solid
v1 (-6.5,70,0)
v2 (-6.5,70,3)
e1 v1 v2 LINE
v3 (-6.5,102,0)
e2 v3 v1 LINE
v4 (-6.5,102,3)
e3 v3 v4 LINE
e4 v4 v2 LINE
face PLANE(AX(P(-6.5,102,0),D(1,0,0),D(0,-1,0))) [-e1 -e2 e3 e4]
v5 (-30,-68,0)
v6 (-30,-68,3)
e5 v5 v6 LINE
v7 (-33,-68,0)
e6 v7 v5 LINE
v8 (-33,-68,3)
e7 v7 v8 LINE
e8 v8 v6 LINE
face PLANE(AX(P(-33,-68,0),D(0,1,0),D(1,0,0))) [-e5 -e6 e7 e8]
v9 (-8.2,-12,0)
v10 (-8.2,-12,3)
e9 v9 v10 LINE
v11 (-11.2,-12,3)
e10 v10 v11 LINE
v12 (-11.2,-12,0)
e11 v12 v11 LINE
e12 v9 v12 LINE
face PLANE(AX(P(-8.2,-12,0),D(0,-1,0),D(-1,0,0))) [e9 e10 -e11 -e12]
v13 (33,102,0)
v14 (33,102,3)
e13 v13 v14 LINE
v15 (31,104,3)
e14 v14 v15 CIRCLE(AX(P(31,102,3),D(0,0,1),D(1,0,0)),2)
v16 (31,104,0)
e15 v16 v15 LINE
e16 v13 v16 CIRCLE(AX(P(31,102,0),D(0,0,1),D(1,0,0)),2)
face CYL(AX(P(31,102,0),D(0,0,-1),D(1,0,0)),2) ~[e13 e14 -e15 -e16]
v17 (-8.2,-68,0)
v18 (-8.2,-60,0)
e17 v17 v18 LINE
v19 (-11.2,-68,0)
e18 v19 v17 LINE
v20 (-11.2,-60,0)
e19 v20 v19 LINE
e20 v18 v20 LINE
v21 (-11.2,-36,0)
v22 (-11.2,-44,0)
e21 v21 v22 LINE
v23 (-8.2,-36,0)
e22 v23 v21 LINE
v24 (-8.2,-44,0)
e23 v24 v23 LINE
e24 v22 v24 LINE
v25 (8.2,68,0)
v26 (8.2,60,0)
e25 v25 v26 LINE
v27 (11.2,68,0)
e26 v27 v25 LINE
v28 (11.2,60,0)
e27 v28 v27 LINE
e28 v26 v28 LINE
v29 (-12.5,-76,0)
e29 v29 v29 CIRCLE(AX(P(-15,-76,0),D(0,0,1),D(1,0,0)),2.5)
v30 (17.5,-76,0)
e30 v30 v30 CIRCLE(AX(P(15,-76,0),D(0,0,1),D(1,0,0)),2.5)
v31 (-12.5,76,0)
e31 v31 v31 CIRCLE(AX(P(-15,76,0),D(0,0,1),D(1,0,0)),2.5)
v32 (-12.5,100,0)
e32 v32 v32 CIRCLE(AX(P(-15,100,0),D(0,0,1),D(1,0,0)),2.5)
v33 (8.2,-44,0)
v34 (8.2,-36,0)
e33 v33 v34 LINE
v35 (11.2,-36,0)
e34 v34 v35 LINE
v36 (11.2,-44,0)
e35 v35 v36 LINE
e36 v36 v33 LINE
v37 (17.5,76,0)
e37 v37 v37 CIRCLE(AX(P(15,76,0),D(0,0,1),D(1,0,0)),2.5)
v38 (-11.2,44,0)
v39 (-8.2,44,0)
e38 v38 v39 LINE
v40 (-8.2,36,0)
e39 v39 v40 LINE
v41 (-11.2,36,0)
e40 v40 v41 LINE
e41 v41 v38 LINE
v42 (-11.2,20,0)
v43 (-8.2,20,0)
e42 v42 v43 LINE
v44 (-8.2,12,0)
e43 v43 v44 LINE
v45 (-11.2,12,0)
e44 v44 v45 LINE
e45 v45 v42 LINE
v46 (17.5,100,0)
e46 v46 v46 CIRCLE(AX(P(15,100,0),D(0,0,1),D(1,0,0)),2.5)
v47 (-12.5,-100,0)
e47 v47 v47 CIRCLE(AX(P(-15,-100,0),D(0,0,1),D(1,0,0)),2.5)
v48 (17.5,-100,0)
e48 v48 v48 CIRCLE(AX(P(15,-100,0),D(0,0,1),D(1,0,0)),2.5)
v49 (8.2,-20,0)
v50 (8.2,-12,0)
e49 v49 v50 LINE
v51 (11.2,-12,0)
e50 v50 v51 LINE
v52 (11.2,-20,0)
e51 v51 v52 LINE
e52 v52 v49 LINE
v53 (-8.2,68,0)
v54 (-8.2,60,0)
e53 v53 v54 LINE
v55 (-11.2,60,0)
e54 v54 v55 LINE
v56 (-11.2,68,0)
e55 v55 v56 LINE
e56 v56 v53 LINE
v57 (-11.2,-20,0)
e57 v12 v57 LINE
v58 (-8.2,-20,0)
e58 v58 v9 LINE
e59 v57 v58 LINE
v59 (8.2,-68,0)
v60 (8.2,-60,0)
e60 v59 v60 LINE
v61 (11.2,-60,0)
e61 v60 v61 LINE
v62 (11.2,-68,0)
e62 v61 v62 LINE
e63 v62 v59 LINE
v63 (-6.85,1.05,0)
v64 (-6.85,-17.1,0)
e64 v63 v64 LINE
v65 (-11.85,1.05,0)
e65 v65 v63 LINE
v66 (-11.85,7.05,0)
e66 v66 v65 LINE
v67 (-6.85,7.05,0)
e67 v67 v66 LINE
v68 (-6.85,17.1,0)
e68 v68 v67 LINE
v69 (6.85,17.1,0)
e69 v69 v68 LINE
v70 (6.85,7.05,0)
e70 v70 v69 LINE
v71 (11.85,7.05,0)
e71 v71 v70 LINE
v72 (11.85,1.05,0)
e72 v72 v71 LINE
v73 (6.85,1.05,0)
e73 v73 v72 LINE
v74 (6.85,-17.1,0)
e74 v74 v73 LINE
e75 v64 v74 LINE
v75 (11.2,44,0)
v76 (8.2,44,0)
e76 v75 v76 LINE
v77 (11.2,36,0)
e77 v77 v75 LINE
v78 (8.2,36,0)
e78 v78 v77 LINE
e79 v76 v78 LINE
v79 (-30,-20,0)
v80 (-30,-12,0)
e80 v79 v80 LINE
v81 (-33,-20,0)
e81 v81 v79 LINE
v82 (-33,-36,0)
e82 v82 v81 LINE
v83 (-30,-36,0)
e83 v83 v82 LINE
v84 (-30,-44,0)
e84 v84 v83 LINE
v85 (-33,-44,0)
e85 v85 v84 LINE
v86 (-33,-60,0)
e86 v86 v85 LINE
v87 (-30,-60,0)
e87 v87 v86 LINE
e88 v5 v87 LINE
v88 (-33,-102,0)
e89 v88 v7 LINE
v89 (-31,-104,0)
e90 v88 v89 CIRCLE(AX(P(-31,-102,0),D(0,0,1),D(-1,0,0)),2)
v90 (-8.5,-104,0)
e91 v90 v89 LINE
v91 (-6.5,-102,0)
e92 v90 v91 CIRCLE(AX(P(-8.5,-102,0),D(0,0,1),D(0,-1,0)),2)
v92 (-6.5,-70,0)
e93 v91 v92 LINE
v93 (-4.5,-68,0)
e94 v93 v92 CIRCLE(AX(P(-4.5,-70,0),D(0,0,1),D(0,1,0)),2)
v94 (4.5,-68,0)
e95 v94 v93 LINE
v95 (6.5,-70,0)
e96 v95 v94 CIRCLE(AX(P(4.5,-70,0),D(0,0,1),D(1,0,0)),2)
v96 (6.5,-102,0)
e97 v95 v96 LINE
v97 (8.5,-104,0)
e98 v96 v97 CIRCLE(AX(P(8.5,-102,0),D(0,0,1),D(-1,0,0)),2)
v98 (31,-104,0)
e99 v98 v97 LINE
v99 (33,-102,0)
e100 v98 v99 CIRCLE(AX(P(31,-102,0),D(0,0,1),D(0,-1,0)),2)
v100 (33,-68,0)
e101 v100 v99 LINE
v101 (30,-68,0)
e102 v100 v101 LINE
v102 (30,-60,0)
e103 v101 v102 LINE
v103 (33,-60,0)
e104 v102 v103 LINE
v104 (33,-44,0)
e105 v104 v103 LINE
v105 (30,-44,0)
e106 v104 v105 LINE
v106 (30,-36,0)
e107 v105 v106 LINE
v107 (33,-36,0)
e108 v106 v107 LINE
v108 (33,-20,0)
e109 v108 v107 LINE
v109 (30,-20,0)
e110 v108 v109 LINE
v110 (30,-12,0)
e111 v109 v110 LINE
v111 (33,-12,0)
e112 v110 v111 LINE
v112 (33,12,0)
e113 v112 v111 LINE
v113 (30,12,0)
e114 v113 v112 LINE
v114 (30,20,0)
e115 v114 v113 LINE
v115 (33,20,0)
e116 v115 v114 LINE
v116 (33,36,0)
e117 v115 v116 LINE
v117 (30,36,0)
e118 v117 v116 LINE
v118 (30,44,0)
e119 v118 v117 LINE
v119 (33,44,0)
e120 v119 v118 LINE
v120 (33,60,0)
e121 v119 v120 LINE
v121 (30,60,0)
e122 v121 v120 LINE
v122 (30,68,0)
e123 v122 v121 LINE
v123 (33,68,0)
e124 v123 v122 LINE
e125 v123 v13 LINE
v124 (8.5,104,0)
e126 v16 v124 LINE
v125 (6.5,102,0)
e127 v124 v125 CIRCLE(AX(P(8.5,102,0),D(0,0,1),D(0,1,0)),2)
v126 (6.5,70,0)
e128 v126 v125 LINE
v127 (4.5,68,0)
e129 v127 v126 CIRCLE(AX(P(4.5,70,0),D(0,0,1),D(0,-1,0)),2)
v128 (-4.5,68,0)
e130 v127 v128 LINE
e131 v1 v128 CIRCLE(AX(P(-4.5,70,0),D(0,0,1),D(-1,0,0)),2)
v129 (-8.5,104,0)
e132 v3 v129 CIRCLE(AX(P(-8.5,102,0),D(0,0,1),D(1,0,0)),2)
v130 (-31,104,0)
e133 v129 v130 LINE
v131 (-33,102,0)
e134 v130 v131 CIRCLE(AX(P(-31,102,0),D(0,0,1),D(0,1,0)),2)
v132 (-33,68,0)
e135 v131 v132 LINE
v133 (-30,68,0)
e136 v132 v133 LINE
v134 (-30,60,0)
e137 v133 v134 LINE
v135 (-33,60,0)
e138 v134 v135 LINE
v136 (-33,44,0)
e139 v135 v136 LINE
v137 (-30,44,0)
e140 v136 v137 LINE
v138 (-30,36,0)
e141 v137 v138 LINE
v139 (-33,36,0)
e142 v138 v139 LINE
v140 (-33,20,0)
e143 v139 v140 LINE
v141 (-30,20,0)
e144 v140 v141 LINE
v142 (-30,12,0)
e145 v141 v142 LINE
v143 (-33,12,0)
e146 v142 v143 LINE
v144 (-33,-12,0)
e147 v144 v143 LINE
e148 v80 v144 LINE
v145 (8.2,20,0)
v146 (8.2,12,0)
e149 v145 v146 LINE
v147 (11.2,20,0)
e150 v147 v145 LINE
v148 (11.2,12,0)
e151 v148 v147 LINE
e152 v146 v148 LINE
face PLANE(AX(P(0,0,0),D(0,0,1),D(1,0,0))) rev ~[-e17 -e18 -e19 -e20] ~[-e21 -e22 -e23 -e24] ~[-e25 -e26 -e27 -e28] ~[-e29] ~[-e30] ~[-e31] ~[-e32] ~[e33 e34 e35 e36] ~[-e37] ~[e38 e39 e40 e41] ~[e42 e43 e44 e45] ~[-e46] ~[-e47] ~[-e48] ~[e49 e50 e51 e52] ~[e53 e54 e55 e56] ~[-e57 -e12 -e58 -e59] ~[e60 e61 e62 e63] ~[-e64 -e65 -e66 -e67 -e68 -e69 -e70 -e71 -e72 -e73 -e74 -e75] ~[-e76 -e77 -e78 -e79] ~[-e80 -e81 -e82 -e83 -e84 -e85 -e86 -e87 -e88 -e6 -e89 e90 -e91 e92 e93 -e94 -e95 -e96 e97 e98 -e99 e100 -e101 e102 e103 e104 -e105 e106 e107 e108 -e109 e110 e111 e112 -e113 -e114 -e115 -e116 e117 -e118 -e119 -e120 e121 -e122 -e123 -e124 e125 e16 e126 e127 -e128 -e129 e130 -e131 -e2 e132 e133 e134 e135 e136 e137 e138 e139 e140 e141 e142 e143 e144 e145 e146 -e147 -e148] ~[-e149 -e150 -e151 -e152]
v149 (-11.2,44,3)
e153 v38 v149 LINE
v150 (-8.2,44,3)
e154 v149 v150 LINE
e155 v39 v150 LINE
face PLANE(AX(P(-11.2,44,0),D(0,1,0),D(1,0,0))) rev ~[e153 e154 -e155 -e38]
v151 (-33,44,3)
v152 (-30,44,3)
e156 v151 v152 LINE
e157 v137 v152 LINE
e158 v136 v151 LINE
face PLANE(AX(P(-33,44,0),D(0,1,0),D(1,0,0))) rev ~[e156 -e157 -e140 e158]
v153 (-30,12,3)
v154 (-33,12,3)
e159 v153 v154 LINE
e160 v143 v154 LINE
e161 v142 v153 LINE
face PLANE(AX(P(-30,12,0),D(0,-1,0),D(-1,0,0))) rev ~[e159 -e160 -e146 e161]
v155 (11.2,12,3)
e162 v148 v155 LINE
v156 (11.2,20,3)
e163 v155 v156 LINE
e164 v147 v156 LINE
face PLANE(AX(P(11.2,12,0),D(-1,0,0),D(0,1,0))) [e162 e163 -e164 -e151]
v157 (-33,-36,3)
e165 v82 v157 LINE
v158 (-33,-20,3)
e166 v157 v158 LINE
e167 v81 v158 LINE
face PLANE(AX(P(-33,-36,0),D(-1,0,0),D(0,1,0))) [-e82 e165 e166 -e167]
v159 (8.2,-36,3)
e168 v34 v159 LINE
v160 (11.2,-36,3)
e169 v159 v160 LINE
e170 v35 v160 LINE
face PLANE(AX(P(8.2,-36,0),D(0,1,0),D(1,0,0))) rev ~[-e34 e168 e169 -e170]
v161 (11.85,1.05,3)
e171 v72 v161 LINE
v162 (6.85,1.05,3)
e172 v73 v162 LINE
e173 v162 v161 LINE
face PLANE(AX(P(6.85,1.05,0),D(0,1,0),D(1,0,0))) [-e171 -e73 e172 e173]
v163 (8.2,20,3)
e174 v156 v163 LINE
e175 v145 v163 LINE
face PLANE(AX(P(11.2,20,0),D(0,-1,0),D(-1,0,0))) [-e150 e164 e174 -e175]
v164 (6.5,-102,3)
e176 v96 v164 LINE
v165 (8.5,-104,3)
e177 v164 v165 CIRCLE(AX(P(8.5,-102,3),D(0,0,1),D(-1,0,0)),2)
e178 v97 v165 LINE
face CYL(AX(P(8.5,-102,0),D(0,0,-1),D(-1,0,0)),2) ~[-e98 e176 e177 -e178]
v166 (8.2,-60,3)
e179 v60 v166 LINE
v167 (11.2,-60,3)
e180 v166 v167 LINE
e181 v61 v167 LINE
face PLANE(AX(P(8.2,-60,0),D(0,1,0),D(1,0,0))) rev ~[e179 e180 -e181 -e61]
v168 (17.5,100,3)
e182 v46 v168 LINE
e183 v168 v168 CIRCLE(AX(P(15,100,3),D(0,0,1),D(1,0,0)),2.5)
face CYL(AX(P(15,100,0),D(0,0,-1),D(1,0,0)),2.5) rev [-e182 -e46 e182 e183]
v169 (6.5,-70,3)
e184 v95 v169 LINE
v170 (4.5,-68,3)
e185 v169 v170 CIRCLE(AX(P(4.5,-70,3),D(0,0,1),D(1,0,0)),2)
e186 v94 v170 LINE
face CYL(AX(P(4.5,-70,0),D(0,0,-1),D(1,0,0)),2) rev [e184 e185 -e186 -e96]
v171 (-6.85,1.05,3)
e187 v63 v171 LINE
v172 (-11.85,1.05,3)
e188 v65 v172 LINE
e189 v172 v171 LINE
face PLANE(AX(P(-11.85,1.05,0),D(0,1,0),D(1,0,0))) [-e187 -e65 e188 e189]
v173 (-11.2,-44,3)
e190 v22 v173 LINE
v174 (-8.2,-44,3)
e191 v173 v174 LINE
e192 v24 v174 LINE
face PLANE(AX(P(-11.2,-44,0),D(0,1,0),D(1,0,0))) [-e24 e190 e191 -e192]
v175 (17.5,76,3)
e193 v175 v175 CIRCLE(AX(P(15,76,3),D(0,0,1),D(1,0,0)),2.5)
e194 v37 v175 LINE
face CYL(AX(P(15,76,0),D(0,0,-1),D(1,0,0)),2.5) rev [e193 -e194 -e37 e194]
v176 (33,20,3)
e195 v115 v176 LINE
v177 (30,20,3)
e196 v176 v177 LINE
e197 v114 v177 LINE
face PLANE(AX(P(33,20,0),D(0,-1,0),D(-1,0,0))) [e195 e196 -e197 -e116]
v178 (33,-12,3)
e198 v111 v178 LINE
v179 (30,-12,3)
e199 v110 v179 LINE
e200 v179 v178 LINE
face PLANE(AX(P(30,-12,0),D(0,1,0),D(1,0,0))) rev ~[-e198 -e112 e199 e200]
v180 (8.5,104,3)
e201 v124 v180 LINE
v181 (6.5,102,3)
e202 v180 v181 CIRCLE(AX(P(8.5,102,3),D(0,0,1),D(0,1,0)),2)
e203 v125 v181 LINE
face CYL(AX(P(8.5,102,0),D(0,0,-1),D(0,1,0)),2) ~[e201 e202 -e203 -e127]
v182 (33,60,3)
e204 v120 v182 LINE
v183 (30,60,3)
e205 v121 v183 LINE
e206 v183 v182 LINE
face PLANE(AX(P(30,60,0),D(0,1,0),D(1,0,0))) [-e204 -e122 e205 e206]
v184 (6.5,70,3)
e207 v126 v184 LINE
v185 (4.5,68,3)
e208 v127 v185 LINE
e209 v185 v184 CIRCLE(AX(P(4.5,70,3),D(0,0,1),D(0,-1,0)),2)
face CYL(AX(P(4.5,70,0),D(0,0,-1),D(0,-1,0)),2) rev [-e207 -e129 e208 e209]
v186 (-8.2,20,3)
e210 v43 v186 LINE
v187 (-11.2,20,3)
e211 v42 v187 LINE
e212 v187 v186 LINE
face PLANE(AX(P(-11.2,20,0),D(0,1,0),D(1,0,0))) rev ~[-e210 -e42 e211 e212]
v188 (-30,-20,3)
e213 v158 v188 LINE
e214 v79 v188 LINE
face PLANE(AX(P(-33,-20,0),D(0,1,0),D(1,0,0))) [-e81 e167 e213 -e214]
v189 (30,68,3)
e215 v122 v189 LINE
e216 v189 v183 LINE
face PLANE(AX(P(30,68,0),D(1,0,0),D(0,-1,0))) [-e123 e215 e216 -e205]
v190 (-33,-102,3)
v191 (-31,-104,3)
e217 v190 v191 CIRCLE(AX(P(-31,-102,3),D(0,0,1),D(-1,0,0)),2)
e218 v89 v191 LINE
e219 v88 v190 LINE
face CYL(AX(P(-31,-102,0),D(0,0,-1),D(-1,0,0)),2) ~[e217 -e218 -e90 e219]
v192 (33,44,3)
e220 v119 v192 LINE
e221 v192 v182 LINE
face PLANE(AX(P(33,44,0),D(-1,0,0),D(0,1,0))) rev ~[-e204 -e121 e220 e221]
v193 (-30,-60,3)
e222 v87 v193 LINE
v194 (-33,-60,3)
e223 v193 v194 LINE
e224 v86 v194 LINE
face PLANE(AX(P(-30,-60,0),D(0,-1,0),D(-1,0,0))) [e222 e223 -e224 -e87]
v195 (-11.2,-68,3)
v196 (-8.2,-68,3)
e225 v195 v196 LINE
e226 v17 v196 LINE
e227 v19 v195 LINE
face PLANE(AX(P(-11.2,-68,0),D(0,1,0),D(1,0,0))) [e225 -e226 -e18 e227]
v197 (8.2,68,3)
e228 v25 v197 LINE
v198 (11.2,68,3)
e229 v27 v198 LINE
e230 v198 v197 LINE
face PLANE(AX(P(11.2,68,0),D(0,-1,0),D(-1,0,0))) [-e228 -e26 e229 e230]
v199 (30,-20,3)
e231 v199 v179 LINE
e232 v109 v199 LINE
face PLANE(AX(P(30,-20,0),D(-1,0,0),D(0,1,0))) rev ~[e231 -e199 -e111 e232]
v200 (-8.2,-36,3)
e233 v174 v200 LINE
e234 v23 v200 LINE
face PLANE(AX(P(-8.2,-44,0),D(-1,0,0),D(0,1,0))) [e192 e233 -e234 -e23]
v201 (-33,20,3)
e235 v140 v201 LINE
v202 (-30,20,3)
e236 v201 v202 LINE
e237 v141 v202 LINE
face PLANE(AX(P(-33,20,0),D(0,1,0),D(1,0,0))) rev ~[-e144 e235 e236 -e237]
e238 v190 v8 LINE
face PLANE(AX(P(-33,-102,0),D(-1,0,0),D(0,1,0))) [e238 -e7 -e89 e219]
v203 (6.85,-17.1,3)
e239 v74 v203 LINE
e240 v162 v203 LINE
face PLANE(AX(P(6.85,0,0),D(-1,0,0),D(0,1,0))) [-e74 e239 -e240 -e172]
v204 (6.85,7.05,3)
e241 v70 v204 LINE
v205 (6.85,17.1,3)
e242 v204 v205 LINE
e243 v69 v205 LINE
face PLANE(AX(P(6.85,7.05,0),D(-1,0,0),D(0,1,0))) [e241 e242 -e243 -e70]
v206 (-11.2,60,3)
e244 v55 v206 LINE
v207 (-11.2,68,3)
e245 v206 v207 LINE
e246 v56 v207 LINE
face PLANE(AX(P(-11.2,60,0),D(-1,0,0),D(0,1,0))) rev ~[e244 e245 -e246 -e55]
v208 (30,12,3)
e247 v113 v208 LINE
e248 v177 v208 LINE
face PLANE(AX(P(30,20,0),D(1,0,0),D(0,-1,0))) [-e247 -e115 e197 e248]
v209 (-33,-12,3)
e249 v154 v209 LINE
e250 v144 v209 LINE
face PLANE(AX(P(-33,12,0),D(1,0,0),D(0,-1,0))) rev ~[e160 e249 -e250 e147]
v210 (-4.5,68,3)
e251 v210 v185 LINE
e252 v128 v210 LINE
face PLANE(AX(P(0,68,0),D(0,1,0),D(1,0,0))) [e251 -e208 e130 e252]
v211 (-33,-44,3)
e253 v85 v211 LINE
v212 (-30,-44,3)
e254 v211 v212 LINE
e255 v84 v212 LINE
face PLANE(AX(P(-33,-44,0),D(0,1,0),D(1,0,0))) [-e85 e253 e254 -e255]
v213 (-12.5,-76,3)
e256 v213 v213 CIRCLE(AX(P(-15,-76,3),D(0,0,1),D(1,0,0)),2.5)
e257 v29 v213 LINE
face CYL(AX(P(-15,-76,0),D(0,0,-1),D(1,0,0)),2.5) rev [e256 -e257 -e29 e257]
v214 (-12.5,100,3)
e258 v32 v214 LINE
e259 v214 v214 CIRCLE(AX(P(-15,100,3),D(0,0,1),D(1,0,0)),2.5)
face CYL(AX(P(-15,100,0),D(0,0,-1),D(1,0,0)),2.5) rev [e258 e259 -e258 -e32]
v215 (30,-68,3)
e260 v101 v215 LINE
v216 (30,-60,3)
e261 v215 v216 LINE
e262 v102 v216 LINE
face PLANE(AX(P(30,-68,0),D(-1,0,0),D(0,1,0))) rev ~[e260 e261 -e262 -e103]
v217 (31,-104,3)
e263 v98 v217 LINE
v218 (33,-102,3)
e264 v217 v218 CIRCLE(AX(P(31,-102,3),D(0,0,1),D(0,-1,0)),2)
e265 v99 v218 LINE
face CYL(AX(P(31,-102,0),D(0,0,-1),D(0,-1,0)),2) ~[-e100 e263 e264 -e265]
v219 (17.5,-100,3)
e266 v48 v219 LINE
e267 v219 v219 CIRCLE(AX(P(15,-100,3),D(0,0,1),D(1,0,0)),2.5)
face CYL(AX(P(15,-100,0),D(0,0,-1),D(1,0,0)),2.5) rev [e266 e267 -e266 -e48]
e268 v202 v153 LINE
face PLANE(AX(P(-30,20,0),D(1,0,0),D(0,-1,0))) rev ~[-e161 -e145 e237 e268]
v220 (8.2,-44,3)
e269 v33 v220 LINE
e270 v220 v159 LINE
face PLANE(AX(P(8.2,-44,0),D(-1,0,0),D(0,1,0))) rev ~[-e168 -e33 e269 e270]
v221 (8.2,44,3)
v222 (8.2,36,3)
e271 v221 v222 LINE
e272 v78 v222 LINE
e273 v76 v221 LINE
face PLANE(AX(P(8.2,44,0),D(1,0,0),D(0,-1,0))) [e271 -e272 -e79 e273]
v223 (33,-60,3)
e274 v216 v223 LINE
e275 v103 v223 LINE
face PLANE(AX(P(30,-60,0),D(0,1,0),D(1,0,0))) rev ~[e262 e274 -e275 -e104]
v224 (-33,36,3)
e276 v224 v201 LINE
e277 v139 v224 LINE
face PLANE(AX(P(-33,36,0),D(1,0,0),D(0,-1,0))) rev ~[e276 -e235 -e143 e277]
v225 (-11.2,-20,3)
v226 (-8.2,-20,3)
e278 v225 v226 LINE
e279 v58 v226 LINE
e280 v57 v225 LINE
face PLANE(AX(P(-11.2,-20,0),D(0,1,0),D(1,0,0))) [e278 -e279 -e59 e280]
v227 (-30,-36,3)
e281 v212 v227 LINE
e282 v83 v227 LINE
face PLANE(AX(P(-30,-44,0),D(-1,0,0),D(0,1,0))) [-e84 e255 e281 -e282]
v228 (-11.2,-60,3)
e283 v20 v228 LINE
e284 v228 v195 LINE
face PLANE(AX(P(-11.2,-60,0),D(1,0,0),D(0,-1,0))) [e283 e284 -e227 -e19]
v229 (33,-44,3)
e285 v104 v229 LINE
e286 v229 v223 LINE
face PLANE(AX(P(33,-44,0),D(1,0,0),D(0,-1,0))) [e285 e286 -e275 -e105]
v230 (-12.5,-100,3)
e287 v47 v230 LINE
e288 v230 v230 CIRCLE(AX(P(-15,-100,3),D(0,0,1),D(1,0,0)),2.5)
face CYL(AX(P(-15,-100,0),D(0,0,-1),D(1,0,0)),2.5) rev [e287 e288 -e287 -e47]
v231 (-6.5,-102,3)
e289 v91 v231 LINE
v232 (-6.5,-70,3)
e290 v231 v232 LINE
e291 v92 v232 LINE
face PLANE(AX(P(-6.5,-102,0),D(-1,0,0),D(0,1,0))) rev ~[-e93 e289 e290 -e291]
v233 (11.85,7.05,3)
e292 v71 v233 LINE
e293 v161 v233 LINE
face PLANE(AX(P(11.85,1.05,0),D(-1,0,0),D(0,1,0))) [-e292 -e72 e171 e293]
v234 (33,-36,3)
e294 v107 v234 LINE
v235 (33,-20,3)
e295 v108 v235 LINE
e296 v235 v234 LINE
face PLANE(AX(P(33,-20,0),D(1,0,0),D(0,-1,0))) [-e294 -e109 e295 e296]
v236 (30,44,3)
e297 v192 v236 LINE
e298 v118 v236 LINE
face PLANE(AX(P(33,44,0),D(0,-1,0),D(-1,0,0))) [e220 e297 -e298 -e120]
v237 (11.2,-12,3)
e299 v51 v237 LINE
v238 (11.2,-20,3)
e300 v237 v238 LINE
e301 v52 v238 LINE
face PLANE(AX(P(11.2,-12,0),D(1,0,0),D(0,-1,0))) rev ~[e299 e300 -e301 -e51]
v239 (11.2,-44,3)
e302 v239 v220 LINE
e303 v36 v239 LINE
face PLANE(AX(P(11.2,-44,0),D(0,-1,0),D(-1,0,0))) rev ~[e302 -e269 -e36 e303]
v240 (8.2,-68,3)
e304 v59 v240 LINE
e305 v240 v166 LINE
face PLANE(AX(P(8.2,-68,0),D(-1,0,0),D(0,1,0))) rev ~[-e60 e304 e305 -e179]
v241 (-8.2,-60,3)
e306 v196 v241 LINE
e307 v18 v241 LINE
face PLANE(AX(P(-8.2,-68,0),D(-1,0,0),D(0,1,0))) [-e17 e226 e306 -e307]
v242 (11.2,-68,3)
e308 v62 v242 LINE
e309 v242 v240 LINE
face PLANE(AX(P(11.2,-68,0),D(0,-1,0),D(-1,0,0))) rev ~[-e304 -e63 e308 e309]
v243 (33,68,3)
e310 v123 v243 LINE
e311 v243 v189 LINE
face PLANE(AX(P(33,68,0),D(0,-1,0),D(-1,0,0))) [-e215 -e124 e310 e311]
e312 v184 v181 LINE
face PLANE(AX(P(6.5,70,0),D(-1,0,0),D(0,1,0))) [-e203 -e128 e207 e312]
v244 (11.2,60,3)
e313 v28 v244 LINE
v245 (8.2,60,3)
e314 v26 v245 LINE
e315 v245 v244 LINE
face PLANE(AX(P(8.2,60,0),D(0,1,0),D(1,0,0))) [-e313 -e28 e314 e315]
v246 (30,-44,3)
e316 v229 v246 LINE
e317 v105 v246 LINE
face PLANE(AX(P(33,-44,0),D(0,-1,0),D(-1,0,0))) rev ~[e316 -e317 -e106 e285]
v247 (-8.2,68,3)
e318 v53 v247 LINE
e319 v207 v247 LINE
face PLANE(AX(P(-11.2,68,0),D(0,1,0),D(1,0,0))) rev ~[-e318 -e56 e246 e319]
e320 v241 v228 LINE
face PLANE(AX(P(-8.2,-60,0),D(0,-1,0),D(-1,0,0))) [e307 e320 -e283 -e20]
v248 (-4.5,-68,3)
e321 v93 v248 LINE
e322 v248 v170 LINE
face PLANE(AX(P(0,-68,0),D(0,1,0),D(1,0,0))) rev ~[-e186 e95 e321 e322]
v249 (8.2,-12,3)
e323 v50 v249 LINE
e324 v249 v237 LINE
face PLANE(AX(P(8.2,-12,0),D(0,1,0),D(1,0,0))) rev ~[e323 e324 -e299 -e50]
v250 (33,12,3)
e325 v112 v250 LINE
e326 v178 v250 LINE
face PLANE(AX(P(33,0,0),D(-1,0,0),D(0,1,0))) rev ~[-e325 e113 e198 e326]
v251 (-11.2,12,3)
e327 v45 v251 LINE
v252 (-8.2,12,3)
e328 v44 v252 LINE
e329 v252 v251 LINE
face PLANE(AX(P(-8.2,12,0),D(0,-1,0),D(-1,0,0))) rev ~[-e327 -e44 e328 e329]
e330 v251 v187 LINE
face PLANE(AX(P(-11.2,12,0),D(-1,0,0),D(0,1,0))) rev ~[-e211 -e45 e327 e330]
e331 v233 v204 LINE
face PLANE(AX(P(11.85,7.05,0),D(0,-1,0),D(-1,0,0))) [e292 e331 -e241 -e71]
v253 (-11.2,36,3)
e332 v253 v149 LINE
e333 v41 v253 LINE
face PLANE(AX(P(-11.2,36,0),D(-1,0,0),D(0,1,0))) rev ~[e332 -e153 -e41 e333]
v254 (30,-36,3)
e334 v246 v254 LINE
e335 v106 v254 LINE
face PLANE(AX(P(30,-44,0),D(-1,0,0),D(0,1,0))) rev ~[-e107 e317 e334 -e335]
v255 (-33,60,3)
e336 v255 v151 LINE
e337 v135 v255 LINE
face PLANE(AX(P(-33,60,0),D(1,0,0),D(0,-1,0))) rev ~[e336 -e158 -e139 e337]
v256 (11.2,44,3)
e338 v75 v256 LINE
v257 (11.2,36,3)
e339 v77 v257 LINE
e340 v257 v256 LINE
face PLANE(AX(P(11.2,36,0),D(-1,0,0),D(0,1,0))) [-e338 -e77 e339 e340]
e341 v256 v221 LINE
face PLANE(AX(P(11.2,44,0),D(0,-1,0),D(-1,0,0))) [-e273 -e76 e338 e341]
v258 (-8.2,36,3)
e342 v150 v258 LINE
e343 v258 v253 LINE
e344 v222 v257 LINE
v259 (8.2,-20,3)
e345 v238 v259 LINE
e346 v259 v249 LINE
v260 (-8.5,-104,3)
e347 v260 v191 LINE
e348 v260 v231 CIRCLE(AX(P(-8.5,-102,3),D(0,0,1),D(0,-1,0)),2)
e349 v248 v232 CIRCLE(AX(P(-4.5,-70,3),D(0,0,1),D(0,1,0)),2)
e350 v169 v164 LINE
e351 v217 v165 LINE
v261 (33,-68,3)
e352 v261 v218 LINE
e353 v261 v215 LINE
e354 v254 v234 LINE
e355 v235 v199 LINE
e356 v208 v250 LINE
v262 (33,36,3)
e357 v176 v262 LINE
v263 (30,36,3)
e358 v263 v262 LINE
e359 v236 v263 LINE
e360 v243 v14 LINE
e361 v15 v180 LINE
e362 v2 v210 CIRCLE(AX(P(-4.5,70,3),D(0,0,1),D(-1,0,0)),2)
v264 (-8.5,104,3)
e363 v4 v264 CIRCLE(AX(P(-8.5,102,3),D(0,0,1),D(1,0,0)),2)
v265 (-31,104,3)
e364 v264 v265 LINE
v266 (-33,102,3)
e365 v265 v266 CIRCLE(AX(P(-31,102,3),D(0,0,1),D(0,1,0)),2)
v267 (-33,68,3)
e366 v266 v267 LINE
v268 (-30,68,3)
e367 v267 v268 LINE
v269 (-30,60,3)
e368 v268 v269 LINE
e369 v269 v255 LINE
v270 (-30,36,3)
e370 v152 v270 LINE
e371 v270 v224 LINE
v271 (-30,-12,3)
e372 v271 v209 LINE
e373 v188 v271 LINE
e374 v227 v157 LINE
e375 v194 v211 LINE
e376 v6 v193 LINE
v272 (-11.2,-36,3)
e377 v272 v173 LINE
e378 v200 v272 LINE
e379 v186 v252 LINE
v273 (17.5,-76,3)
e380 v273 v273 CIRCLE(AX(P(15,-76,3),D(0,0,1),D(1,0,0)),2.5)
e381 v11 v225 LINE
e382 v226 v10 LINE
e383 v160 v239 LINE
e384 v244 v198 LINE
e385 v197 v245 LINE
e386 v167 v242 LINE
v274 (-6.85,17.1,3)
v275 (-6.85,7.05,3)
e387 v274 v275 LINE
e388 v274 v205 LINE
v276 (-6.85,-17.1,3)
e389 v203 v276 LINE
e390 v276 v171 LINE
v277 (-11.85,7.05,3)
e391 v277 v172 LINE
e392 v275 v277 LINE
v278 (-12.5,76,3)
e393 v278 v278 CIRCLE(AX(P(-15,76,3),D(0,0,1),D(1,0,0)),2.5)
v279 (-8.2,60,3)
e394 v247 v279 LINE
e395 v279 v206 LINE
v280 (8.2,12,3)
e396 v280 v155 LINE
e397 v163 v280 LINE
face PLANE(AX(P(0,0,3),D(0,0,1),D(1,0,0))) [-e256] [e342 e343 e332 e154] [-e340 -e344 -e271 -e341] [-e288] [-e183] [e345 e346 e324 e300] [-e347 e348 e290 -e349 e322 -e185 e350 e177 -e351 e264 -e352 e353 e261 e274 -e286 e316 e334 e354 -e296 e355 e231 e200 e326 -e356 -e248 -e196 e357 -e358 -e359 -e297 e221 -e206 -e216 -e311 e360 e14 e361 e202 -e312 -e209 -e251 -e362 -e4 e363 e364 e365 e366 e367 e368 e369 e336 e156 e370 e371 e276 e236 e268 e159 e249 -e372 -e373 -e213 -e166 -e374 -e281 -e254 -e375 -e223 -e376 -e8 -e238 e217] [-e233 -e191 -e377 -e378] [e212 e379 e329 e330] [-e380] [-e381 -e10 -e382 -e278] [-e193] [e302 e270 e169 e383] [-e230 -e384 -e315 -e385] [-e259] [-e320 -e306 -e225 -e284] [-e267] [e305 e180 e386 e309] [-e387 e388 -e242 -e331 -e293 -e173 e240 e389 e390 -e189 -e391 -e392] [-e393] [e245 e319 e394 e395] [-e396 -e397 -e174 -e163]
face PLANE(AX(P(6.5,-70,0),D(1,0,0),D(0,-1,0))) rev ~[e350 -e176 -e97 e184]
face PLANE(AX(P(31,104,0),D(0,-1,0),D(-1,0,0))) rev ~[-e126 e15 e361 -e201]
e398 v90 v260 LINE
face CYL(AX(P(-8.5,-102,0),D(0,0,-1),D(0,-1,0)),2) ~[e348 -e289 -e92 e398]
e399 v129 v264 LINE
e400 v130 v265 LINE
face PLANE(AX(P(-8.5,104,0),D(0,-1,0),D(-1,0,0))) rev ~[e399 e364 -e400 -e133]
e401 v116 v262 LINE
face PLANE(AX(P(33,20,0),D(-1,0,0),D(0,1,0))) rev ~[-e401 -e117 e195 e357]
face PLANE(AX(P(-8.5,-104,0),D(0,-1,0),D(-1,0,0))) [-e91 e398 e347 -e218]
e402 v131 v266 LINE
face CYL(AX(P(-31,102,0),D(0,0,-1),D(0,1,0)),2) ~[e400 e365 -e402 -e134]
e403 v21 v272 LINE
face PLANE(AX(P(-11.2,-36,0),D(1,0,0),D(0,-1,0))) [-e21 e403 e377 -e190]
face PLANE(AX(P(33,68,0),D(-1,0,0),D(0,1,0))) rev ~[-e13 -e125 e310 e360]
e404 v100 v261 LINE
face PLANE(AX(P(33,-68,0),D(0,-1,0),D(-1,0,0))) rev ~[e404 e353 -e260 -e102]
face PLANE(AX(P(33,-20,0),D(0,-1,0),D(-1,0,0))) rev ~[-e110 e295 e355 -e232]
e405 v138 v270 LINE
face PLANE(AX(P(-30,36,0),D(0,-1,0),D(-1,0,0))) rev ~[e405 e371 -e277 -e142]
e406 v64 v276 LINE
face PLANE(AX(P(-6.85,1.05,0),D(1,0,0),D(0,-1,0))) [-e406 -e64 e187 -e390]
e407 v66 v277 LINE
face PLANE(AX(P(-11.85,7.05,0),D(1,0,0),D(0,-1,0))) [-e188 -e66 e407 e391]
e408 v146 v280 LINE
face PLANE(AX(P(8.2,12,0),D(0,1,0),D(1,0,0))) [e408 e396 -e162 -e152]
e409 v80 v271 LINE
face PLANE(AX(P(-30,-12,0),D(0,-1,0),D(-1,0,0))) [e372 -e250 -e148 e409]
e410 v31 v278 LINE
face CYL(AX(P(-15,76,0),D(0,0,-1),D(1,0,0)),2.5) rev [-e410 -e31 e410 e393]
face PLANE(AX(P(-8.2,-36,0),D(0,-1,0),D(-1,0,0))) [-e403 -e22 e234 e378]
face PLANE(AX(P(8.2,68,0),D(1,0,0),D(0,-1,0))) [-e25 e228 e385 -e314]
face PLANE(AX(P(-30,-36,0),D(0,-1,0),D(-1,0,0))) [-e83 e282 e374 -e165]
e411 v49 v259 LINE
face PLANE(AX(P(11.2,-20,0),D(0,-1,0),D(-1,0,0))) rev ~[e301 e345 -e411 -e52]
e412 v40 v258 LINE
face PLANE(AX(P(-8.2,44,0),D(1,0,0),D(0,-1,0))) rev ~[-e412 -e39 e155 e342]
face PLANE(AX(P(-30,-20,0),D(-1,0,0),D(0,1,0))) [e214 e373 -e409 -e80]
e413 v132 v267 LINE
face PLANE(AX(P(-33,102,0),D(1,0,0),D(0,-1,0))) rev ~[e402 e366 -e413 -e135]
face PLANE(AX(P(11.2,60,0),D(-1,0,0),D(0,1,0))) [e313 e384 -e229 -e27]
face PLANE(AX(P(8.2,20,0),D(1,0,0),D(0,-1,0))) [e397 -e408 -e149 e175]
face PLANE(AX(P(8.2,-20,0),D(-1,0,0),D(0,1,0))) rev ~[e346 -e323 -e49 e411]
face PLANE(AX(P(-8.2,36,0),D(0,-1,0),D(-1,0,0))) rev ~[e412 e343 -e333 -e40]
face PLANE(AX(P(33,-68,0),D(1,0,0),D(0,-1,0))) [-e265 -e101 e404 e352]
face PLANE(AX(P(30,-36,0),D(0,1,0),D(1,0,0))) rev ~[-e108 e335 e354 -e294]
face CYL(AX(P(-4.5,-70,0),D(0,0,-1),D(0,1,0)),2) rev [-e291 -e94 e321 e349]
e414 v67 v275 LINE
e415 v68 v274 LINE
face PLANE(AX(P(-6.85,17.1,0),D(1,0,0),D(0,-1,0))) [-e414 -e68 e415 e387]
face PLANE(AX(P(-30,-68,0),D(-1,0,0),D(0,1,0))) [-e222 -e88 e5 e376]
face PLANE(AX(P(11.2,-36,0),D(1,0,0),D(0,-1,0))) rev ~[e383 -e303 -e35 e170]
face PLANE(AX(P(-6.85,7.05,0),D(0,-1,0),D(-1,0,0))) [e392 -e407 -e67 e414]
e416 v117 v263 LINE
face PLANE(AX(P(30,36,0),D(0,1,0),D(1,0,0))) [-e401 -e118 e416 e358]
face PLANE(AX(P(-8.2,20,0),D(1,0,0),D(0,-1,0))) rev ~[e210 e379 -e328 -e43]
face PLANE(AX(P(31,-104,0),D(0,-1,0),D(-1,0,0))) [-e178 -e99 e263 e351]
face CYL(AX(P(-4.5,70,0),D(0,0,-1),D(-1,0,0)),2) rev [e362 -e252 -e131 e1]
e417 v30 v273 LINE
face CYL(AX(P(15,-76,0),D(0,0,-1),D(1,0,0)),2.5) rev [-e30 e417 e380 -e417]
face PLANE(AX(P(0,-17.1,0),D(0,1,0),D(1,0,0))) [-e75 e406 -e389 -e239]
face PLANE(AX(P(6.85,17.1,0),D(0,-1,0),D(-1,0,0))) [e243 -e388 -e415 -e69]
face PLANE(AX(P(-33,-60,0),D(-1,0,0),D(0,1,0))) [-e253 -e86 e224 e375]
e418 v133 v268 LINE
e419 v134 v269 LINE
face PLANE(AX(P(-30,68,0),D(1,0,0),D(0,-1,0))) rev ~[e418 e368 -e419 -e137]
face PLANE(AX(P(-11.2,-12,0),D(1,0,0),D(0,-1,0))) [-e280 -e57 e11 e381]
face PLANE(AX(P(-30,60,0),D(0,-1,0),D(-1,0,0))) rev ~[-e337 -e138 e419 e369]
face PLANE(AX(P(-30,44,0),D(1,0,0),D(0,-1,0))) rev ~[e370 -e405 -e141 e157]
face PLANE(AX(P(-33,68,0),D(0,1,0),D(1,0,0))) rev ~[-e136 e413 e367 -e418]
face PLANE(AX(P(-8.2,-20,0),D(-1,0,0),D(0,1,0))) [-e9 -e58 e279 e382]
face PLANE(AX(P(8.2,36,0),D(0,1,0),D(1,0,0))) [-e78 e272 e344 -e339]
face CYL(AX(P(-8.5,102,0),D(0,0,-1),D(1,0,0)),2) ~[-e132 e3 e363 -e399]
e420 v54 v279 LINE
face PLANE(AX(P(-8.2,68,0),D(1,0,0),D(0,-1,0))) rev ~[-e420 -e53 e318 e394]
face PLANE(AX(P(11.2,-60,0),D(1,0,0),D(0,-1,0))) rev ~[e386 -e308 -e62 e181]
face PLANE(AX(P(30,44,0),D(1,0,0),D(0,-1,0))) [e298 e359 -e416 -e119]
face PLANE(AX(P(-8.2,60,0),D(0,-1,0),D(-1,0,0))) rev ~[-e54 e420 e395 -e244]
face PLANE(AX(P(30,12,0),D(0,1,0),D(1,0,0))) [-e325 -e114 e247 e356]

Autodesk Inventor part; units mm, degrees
ref_plane "YZ Plane" through (0, 0, 0) normal (1, 0, 0) x (0, 1, 0)
ref_plane "XZ Plane" through (0, 0, 0) normal (0, 1, 0) x (-1, 0, 0)
ref_plane "XY Plane" through (0, 0, 0) normal (0, 0, 1) x (1, 0, 0)
sketch "草圖1" plane through (0, 0, 0) normal (0, 0, 1) x (1, 0, 0)
  line L0 (-33, -104) -> (33, 104) construction
  line L1 (33, -104) -> (-33, 104) construction
  line L2 (0, 128.5379) -> (0, -160.5456)
  circle A0 centre (-15, 100) radius 2.5
  circle A1 centre (15, 100) radius 2.5
  circle A2 centre (15, 76) radius 2.5
  circle A3 centre (-15, 76) radius 2.5
  line L3 (-33, 68) -> (-30, 68)
  line L4 (-30, 68) -> (-30, 60)
  line L5 (-30, 60) -> (-33, 60)
  line L6 (-33, 102) -> (-33, 68)
  line L7 (-11.2, 68) -> (-8.2, 68)
  line L8 (-8.2, 68) -> (-8.2, 60)
  line L9 (-8.2, 60) -> (-11.2, 60)
  line L10 (-11.2, 60) -> (-11.2, 68)
  line L11 (33, 68) -> (30, 68)
  line L12 (30, 68) -> (30, 60)
  line L13 (30, 60) -> (33, 60)
  line L14 (11.2, 68) -> (8.2, 68)
  line L15 (8.2, 68) -> (8.2, 60)
  line L16 (8.2, 60) -> (11.2, 60)
  line L17 (11.2, 60) -> (11.2, 68)
  line L18 (33, 68) -> (33, 102)
  line L19 (8.2, 44) -> (8.2, 36)
  line L20 (8.2, 36) -> (11.2, 36)
  line L21 (11.2, 44) -> (8.2, 44)
  line L22 (11.2, 36) -> (11.2, 44)
  line L23 (30, 44) -> (30, 36)
  line L24 (30, 36) -> (33, 36)
  line L25 (33, 44) -> (30, 44)
  line L26 (-8.2, 44) -> (-8.2, 36)
  line L27 (-8.2, 36) -> (-11.2, 36)
  line L28 (-11.2, 44) -> (-8.2, 44)
  line L29 (-11.2, 36) -> (-11.2, 44)
  line L30 (-30, 44) -> (-30, 36)
  line L31 (-33, 44) -> (-30, 44)
  line L32 (-30, 36) -> (-33, 36)
  line L33 (8.2, 20) -> (8.2, 12)
  line L34 (8.2, 12) -> (11.2, 12)
  line L35 (11.2, 20) -> (8.2, 20)
  line L36 (11.2, 12) -> (11.2, 20)
  line L37 (30, 20) -> (30, 12)
  line L38 (30, 12) -> (33, 12)
  line L39 (33, 20) -> (30, 20)
  line L40 (-8.2, 20) -> (-8.2, 12)
  line L41 (-8.2, 12) -> (-11.2, 12)
  line L42 (-11.2, 20) -> (-8.2, 20)
  line L43 (-11.2, 12) -> (-11.2, 20)
  line L44 (-30, 20) -> (-30, 12)
  line L45 (-33, 20) -> (-30, 20)
  line L46 (-30, 12) -> (-33, 12)
  line L47 (-33, 60) -> (-33, 44)
  line L48 (-33, 36) -> (-33, 20)
  line L49 (33, 20) -> (33, 36)
  line L50 (33, 44) -> (33, 60)
  line L51 (-4.5, 68) -> (4.5, 68)
  line L52 (6.5, 70) -> (6.5, 102)
  line L53 (-6.5, 102) -> (-6.5, 70)
  line L54 (-6.5, 68) -> (6.5, 104) construction
  line L55 (6.5, 68) -> (-6.5, 104) construction
  line L56 (31, 104) -> (8.5, 104)
  line L57 (-8.5, 104) -> (-31, 104)
  arc A4 (-6.5, 102) -> (-8.5, 104) centre (-8.5, 102) ccw
  arc A5 (8.5, 104) -> (6.5, 102) centre (8.5, 102) ccw
  arc A6 (-6.5, 70) -> (-4.5, 68) centre (-4.5, 70) ccw
  arc A7 (4.5, 68) -> (6.5, 70) centre (4.5, 70) ccw
  arc A8 (-31, 104) -> (-33, 102) centre (-31, 102) ccw
  arc A9 (33, 102) -> (31, 104) centre (31, 102) ccw
  line L58 (-83.0249, 0) -> (86.2934, 0)
  circle A10 centre (-15, -100) radius 2.5
  circle A11 centre (15, -100) radius 2.5
  circle A12 centre (15, -76) radius 2.5
  circle A13 centre (-15, -76) radius 2.5
  line L59 (-33, -68) -> (-30, -68)
  line L60 (-30, -68) -> (-30, -60)
  line L61 (-30, -60) -> (-33, -60)
  line L62 (-33, -102) -> (-33, -68)
  line L63 (-11.2, -68) -> (-8.2, -68)
  line L64 (-8.2, -68) -> (-8.2, -60)
  line L65 (-8.2, -60) -> (-11.2, -60)
  line L66 (-11.2, -60) -> (-11.2, -68)
  line L67 (33, -68) -> (30, -68)
  line L68 (30, -68) -> (30, -60)
  line L69 (30, -60) -> (33, -60)
  line L70 (8.2, -60) -> (11.2, -60)
  line L71 (11.2, -60) -> (11.2, -68)
  line L72 (8.2, -68) -> (8.2, -60)
  line L73 (11.2, -68) -> (8.2, -68)
  line L74 (33, -68) -> (33, -102)
  line L75 (8.2, -44) -> (8.2, -36)
  line L76 (8.2, -36) -> (11.2, -36)
  line L77 (11.2, -44) -> (8.2, -44)
  line L78 (11.2, -36) -> (11.2, -44)
  line L79 (30, -44) -> (30, -36)
  line L80 (30, -36) -> (33, -36)
  line L81 (33, -44) -> (30, -44)
  line L82 (-8.2, -44) -> (-8.2, -36)
  line L83 (-8.2, -36) -> (-11.2, -36)
  line L84 (-11.2, -44) -> (-8.2, -44)
  line L85 (-11.2, -36) -> (-11.2, -44)
  line L86 (-30, -44) -> (-30, -36)
  line L87 (-33, -44) -> (-30, -44)
  line L88 (-30, -36) -> (-33, -36)
  line L89 (8.2, -20) -> (8.2, -12)
  line L90 (8.2, -12) -> (11.2, -12)
  line L91 (11.2, -20) -> (8.2, -20)
  line L92 (11.2, -12) -> (11.2, -20)
  line L93 (30, -20) -> (30, -12)
  line L94 (30, -12) -> (33, -12)
  line L95 (33, -20) -> (30, -20)
  line L96 (-8.2, -20) -> (-8.2, -12)
  line L97 (-8.2, -12) -> (-11.2, -12)
  line L98 (-11.2, -20) -> (-8.2, -20)
  line L99 (-11.2, -12) -> (-11.2, -20)
  line L100 (-30, -20) -> (-30, -12)
  line L101 (-33, -20) -> (-30, -20)
  line L102 (-30, -12) -> (-33, -12)
  line L103 (-33, -60) -> (-33, -44)
  line L104 (-33, -36) -> (-33, -20)
  line L105 (33, -20) -> (33, -36)
  line L106 (33, -44) -> (33, -60)
  line L107 (-4.5, -68) -> (4.5, -68)
  line L108 (6.5, -70) -> (6.5, -102)
  line L109 (-6.5, -102) -> (-6.5, -70)
  line L110 (-6.5, -68) -> (6.5, -104) construction
  line L111 (6.5, -68) -> (-6.5, -104) construction
  line L112 (31, -104) -> (8.5, -104)
  line L113 (-8.5, -104) -> (-31, -104)
  arc A14 (-8.5, -104) -> (-6.5, -102) centre (-8.5, -102) ccw
  arc A15 (6.5, -102) -> (8.5, -104) centre (8.5, -102) ccw
  arc A16 (-4.5, -68) -> (-6.5, -70) centre (-4.5, -70) ccw
  arc A17 (6.5, -70) -> (4.5, -68) centre (4.5, -70) ccw
  arc A18 (-33, -102) -> (-31, -104) centre (-31, -102) ccw
  arc A19 (31, -104) -> (33, -102) centre (31, -102) ccw
  line L114 (-31, -104) -> (-8.5, -104)
  line L115 (8.5, -104) -> (31, -104)
  line L116 (-6.85, -17.1) -> (6.85, -17.1)
  line L117 (6.85, 17.1) -> (-6.85, 17.1)
  line L118 (-6.85, -17.1) -> (6.85, 17.1) construction
  line L119 (6.85, -17.1) -> (-6.85, 17.1) construction
  line L120 (11.85, 1.05) -> (11.85, 7.05)
  line L121 (-11.85, 7.05) -> (-11.85, 1.05)
  line L122 (-11.85, 1.05) -> (11.85, 7.05) construction
  line L123 (11.85, 1.05) -> (-11.85, 7.05) construction
  line L124 (-6.85, 17.1) -> (-6.85, 7.05)
  line L125 (-6.85, 1.05) -> (-6.85, -17.1)
  line L126 (6.85, -17.1) -> (6.85, 1.05)
  line L127 (6.85, 7.05) -> (6.85, 17.1)
  line L128 (11.85, 7.05) -> (6.85, 7.05)
  line L129 (6.85, 1.05) -> (11.85, 1.05)
  line L130 (-11.85, 1.05) -> (-6.85, 1.05)
  line L131 (-6.85, 7.05) -> (-11.85, 7.05)
  line L132 (-33, 12) -> (-33, -12)
  line L133 (-33, -20) -> (-33, -36)
  line L134 (-33, -44) -> (-33, -60)
  line L135 (-33, -68) -> (-33, -102)
  line L136 (33, -102) -> (33, -68)
  line L137 (33, -60) -> (33, -44)
  line L138 (33, -36) -> (33, -20)
  line L139 (33, -12) -> (33, 12)
  line L140 (-65.8128, 14.982) -> (72.6132, 14.982) construction
  point P0 (0, 0)
  point P1 (0, 86.5078)
  point P2 (0, 86)
  point P3 (0, -86.5078)
  point P4 (0, -86)
  point P5 (0, 4.05)
  point P6 (11.85, 4.05)
  dimension "d0" = 66
  dimension "d1" = 208
  dimension "d6" = 5
  dimension "d8" = 30
  dimension "d9" = 24
  dimension "d10" = 3
  dimension "d11" = 8
  dimension "d12" = 8
  dimension "d13" = 3
  dimension "d14" = 18.8
  dimension "d17" = 24
  dimension "d22" = 13
  dimension "d23" = 4
  dimension "d24" = 2
  dimension "d25" = 2
  dimension "d26" = 34.2
  dimension "d27" = 13.7
  dimension "d28" = 6
  dimension "d30" = 23.7
  dimension "d31" = 10.05
  dimension "d37" = 2.118
extrude "擠出1" add sketch "草圖1" along normal blind 3 contours L51 A7 L52 A5 L56 A9 L18 L11 L12 L13 L50 L25 L23 L24 L49 L39 L37 L38 L139 L58 L126 L129 L120 L128 L127 L117 L2 | L2 L117 L124 L131 L121 L130 L125 L58 L132 L46 L44 L45 L48 L32 L30 L31 L47 L5 L4 L3 L6 A8 L57 A4 L53 A6 L51 | L116 L126 L58 L139 L94 L93 L95 L105 L80 L79 L81 L106 L69 L68 L67 L74 A19 L112 A15 L108 A17 L107 L2 | L2 L107 A16 L109 A14 L113 A18 L62 L59 L60 L61 L103 L87 L86 L88 L104 L101 L100 L102 L132 L58 L125 L116
sketch "草圖2" plane through (0, 0, 3) normal (0, 0, 1) x (1, 0, 0)
  line L0 (0, 139.5893) -> (0, -137.5239)
  point P0 (0, 0)
properties part number "frame" material "木材 (楓木)"
